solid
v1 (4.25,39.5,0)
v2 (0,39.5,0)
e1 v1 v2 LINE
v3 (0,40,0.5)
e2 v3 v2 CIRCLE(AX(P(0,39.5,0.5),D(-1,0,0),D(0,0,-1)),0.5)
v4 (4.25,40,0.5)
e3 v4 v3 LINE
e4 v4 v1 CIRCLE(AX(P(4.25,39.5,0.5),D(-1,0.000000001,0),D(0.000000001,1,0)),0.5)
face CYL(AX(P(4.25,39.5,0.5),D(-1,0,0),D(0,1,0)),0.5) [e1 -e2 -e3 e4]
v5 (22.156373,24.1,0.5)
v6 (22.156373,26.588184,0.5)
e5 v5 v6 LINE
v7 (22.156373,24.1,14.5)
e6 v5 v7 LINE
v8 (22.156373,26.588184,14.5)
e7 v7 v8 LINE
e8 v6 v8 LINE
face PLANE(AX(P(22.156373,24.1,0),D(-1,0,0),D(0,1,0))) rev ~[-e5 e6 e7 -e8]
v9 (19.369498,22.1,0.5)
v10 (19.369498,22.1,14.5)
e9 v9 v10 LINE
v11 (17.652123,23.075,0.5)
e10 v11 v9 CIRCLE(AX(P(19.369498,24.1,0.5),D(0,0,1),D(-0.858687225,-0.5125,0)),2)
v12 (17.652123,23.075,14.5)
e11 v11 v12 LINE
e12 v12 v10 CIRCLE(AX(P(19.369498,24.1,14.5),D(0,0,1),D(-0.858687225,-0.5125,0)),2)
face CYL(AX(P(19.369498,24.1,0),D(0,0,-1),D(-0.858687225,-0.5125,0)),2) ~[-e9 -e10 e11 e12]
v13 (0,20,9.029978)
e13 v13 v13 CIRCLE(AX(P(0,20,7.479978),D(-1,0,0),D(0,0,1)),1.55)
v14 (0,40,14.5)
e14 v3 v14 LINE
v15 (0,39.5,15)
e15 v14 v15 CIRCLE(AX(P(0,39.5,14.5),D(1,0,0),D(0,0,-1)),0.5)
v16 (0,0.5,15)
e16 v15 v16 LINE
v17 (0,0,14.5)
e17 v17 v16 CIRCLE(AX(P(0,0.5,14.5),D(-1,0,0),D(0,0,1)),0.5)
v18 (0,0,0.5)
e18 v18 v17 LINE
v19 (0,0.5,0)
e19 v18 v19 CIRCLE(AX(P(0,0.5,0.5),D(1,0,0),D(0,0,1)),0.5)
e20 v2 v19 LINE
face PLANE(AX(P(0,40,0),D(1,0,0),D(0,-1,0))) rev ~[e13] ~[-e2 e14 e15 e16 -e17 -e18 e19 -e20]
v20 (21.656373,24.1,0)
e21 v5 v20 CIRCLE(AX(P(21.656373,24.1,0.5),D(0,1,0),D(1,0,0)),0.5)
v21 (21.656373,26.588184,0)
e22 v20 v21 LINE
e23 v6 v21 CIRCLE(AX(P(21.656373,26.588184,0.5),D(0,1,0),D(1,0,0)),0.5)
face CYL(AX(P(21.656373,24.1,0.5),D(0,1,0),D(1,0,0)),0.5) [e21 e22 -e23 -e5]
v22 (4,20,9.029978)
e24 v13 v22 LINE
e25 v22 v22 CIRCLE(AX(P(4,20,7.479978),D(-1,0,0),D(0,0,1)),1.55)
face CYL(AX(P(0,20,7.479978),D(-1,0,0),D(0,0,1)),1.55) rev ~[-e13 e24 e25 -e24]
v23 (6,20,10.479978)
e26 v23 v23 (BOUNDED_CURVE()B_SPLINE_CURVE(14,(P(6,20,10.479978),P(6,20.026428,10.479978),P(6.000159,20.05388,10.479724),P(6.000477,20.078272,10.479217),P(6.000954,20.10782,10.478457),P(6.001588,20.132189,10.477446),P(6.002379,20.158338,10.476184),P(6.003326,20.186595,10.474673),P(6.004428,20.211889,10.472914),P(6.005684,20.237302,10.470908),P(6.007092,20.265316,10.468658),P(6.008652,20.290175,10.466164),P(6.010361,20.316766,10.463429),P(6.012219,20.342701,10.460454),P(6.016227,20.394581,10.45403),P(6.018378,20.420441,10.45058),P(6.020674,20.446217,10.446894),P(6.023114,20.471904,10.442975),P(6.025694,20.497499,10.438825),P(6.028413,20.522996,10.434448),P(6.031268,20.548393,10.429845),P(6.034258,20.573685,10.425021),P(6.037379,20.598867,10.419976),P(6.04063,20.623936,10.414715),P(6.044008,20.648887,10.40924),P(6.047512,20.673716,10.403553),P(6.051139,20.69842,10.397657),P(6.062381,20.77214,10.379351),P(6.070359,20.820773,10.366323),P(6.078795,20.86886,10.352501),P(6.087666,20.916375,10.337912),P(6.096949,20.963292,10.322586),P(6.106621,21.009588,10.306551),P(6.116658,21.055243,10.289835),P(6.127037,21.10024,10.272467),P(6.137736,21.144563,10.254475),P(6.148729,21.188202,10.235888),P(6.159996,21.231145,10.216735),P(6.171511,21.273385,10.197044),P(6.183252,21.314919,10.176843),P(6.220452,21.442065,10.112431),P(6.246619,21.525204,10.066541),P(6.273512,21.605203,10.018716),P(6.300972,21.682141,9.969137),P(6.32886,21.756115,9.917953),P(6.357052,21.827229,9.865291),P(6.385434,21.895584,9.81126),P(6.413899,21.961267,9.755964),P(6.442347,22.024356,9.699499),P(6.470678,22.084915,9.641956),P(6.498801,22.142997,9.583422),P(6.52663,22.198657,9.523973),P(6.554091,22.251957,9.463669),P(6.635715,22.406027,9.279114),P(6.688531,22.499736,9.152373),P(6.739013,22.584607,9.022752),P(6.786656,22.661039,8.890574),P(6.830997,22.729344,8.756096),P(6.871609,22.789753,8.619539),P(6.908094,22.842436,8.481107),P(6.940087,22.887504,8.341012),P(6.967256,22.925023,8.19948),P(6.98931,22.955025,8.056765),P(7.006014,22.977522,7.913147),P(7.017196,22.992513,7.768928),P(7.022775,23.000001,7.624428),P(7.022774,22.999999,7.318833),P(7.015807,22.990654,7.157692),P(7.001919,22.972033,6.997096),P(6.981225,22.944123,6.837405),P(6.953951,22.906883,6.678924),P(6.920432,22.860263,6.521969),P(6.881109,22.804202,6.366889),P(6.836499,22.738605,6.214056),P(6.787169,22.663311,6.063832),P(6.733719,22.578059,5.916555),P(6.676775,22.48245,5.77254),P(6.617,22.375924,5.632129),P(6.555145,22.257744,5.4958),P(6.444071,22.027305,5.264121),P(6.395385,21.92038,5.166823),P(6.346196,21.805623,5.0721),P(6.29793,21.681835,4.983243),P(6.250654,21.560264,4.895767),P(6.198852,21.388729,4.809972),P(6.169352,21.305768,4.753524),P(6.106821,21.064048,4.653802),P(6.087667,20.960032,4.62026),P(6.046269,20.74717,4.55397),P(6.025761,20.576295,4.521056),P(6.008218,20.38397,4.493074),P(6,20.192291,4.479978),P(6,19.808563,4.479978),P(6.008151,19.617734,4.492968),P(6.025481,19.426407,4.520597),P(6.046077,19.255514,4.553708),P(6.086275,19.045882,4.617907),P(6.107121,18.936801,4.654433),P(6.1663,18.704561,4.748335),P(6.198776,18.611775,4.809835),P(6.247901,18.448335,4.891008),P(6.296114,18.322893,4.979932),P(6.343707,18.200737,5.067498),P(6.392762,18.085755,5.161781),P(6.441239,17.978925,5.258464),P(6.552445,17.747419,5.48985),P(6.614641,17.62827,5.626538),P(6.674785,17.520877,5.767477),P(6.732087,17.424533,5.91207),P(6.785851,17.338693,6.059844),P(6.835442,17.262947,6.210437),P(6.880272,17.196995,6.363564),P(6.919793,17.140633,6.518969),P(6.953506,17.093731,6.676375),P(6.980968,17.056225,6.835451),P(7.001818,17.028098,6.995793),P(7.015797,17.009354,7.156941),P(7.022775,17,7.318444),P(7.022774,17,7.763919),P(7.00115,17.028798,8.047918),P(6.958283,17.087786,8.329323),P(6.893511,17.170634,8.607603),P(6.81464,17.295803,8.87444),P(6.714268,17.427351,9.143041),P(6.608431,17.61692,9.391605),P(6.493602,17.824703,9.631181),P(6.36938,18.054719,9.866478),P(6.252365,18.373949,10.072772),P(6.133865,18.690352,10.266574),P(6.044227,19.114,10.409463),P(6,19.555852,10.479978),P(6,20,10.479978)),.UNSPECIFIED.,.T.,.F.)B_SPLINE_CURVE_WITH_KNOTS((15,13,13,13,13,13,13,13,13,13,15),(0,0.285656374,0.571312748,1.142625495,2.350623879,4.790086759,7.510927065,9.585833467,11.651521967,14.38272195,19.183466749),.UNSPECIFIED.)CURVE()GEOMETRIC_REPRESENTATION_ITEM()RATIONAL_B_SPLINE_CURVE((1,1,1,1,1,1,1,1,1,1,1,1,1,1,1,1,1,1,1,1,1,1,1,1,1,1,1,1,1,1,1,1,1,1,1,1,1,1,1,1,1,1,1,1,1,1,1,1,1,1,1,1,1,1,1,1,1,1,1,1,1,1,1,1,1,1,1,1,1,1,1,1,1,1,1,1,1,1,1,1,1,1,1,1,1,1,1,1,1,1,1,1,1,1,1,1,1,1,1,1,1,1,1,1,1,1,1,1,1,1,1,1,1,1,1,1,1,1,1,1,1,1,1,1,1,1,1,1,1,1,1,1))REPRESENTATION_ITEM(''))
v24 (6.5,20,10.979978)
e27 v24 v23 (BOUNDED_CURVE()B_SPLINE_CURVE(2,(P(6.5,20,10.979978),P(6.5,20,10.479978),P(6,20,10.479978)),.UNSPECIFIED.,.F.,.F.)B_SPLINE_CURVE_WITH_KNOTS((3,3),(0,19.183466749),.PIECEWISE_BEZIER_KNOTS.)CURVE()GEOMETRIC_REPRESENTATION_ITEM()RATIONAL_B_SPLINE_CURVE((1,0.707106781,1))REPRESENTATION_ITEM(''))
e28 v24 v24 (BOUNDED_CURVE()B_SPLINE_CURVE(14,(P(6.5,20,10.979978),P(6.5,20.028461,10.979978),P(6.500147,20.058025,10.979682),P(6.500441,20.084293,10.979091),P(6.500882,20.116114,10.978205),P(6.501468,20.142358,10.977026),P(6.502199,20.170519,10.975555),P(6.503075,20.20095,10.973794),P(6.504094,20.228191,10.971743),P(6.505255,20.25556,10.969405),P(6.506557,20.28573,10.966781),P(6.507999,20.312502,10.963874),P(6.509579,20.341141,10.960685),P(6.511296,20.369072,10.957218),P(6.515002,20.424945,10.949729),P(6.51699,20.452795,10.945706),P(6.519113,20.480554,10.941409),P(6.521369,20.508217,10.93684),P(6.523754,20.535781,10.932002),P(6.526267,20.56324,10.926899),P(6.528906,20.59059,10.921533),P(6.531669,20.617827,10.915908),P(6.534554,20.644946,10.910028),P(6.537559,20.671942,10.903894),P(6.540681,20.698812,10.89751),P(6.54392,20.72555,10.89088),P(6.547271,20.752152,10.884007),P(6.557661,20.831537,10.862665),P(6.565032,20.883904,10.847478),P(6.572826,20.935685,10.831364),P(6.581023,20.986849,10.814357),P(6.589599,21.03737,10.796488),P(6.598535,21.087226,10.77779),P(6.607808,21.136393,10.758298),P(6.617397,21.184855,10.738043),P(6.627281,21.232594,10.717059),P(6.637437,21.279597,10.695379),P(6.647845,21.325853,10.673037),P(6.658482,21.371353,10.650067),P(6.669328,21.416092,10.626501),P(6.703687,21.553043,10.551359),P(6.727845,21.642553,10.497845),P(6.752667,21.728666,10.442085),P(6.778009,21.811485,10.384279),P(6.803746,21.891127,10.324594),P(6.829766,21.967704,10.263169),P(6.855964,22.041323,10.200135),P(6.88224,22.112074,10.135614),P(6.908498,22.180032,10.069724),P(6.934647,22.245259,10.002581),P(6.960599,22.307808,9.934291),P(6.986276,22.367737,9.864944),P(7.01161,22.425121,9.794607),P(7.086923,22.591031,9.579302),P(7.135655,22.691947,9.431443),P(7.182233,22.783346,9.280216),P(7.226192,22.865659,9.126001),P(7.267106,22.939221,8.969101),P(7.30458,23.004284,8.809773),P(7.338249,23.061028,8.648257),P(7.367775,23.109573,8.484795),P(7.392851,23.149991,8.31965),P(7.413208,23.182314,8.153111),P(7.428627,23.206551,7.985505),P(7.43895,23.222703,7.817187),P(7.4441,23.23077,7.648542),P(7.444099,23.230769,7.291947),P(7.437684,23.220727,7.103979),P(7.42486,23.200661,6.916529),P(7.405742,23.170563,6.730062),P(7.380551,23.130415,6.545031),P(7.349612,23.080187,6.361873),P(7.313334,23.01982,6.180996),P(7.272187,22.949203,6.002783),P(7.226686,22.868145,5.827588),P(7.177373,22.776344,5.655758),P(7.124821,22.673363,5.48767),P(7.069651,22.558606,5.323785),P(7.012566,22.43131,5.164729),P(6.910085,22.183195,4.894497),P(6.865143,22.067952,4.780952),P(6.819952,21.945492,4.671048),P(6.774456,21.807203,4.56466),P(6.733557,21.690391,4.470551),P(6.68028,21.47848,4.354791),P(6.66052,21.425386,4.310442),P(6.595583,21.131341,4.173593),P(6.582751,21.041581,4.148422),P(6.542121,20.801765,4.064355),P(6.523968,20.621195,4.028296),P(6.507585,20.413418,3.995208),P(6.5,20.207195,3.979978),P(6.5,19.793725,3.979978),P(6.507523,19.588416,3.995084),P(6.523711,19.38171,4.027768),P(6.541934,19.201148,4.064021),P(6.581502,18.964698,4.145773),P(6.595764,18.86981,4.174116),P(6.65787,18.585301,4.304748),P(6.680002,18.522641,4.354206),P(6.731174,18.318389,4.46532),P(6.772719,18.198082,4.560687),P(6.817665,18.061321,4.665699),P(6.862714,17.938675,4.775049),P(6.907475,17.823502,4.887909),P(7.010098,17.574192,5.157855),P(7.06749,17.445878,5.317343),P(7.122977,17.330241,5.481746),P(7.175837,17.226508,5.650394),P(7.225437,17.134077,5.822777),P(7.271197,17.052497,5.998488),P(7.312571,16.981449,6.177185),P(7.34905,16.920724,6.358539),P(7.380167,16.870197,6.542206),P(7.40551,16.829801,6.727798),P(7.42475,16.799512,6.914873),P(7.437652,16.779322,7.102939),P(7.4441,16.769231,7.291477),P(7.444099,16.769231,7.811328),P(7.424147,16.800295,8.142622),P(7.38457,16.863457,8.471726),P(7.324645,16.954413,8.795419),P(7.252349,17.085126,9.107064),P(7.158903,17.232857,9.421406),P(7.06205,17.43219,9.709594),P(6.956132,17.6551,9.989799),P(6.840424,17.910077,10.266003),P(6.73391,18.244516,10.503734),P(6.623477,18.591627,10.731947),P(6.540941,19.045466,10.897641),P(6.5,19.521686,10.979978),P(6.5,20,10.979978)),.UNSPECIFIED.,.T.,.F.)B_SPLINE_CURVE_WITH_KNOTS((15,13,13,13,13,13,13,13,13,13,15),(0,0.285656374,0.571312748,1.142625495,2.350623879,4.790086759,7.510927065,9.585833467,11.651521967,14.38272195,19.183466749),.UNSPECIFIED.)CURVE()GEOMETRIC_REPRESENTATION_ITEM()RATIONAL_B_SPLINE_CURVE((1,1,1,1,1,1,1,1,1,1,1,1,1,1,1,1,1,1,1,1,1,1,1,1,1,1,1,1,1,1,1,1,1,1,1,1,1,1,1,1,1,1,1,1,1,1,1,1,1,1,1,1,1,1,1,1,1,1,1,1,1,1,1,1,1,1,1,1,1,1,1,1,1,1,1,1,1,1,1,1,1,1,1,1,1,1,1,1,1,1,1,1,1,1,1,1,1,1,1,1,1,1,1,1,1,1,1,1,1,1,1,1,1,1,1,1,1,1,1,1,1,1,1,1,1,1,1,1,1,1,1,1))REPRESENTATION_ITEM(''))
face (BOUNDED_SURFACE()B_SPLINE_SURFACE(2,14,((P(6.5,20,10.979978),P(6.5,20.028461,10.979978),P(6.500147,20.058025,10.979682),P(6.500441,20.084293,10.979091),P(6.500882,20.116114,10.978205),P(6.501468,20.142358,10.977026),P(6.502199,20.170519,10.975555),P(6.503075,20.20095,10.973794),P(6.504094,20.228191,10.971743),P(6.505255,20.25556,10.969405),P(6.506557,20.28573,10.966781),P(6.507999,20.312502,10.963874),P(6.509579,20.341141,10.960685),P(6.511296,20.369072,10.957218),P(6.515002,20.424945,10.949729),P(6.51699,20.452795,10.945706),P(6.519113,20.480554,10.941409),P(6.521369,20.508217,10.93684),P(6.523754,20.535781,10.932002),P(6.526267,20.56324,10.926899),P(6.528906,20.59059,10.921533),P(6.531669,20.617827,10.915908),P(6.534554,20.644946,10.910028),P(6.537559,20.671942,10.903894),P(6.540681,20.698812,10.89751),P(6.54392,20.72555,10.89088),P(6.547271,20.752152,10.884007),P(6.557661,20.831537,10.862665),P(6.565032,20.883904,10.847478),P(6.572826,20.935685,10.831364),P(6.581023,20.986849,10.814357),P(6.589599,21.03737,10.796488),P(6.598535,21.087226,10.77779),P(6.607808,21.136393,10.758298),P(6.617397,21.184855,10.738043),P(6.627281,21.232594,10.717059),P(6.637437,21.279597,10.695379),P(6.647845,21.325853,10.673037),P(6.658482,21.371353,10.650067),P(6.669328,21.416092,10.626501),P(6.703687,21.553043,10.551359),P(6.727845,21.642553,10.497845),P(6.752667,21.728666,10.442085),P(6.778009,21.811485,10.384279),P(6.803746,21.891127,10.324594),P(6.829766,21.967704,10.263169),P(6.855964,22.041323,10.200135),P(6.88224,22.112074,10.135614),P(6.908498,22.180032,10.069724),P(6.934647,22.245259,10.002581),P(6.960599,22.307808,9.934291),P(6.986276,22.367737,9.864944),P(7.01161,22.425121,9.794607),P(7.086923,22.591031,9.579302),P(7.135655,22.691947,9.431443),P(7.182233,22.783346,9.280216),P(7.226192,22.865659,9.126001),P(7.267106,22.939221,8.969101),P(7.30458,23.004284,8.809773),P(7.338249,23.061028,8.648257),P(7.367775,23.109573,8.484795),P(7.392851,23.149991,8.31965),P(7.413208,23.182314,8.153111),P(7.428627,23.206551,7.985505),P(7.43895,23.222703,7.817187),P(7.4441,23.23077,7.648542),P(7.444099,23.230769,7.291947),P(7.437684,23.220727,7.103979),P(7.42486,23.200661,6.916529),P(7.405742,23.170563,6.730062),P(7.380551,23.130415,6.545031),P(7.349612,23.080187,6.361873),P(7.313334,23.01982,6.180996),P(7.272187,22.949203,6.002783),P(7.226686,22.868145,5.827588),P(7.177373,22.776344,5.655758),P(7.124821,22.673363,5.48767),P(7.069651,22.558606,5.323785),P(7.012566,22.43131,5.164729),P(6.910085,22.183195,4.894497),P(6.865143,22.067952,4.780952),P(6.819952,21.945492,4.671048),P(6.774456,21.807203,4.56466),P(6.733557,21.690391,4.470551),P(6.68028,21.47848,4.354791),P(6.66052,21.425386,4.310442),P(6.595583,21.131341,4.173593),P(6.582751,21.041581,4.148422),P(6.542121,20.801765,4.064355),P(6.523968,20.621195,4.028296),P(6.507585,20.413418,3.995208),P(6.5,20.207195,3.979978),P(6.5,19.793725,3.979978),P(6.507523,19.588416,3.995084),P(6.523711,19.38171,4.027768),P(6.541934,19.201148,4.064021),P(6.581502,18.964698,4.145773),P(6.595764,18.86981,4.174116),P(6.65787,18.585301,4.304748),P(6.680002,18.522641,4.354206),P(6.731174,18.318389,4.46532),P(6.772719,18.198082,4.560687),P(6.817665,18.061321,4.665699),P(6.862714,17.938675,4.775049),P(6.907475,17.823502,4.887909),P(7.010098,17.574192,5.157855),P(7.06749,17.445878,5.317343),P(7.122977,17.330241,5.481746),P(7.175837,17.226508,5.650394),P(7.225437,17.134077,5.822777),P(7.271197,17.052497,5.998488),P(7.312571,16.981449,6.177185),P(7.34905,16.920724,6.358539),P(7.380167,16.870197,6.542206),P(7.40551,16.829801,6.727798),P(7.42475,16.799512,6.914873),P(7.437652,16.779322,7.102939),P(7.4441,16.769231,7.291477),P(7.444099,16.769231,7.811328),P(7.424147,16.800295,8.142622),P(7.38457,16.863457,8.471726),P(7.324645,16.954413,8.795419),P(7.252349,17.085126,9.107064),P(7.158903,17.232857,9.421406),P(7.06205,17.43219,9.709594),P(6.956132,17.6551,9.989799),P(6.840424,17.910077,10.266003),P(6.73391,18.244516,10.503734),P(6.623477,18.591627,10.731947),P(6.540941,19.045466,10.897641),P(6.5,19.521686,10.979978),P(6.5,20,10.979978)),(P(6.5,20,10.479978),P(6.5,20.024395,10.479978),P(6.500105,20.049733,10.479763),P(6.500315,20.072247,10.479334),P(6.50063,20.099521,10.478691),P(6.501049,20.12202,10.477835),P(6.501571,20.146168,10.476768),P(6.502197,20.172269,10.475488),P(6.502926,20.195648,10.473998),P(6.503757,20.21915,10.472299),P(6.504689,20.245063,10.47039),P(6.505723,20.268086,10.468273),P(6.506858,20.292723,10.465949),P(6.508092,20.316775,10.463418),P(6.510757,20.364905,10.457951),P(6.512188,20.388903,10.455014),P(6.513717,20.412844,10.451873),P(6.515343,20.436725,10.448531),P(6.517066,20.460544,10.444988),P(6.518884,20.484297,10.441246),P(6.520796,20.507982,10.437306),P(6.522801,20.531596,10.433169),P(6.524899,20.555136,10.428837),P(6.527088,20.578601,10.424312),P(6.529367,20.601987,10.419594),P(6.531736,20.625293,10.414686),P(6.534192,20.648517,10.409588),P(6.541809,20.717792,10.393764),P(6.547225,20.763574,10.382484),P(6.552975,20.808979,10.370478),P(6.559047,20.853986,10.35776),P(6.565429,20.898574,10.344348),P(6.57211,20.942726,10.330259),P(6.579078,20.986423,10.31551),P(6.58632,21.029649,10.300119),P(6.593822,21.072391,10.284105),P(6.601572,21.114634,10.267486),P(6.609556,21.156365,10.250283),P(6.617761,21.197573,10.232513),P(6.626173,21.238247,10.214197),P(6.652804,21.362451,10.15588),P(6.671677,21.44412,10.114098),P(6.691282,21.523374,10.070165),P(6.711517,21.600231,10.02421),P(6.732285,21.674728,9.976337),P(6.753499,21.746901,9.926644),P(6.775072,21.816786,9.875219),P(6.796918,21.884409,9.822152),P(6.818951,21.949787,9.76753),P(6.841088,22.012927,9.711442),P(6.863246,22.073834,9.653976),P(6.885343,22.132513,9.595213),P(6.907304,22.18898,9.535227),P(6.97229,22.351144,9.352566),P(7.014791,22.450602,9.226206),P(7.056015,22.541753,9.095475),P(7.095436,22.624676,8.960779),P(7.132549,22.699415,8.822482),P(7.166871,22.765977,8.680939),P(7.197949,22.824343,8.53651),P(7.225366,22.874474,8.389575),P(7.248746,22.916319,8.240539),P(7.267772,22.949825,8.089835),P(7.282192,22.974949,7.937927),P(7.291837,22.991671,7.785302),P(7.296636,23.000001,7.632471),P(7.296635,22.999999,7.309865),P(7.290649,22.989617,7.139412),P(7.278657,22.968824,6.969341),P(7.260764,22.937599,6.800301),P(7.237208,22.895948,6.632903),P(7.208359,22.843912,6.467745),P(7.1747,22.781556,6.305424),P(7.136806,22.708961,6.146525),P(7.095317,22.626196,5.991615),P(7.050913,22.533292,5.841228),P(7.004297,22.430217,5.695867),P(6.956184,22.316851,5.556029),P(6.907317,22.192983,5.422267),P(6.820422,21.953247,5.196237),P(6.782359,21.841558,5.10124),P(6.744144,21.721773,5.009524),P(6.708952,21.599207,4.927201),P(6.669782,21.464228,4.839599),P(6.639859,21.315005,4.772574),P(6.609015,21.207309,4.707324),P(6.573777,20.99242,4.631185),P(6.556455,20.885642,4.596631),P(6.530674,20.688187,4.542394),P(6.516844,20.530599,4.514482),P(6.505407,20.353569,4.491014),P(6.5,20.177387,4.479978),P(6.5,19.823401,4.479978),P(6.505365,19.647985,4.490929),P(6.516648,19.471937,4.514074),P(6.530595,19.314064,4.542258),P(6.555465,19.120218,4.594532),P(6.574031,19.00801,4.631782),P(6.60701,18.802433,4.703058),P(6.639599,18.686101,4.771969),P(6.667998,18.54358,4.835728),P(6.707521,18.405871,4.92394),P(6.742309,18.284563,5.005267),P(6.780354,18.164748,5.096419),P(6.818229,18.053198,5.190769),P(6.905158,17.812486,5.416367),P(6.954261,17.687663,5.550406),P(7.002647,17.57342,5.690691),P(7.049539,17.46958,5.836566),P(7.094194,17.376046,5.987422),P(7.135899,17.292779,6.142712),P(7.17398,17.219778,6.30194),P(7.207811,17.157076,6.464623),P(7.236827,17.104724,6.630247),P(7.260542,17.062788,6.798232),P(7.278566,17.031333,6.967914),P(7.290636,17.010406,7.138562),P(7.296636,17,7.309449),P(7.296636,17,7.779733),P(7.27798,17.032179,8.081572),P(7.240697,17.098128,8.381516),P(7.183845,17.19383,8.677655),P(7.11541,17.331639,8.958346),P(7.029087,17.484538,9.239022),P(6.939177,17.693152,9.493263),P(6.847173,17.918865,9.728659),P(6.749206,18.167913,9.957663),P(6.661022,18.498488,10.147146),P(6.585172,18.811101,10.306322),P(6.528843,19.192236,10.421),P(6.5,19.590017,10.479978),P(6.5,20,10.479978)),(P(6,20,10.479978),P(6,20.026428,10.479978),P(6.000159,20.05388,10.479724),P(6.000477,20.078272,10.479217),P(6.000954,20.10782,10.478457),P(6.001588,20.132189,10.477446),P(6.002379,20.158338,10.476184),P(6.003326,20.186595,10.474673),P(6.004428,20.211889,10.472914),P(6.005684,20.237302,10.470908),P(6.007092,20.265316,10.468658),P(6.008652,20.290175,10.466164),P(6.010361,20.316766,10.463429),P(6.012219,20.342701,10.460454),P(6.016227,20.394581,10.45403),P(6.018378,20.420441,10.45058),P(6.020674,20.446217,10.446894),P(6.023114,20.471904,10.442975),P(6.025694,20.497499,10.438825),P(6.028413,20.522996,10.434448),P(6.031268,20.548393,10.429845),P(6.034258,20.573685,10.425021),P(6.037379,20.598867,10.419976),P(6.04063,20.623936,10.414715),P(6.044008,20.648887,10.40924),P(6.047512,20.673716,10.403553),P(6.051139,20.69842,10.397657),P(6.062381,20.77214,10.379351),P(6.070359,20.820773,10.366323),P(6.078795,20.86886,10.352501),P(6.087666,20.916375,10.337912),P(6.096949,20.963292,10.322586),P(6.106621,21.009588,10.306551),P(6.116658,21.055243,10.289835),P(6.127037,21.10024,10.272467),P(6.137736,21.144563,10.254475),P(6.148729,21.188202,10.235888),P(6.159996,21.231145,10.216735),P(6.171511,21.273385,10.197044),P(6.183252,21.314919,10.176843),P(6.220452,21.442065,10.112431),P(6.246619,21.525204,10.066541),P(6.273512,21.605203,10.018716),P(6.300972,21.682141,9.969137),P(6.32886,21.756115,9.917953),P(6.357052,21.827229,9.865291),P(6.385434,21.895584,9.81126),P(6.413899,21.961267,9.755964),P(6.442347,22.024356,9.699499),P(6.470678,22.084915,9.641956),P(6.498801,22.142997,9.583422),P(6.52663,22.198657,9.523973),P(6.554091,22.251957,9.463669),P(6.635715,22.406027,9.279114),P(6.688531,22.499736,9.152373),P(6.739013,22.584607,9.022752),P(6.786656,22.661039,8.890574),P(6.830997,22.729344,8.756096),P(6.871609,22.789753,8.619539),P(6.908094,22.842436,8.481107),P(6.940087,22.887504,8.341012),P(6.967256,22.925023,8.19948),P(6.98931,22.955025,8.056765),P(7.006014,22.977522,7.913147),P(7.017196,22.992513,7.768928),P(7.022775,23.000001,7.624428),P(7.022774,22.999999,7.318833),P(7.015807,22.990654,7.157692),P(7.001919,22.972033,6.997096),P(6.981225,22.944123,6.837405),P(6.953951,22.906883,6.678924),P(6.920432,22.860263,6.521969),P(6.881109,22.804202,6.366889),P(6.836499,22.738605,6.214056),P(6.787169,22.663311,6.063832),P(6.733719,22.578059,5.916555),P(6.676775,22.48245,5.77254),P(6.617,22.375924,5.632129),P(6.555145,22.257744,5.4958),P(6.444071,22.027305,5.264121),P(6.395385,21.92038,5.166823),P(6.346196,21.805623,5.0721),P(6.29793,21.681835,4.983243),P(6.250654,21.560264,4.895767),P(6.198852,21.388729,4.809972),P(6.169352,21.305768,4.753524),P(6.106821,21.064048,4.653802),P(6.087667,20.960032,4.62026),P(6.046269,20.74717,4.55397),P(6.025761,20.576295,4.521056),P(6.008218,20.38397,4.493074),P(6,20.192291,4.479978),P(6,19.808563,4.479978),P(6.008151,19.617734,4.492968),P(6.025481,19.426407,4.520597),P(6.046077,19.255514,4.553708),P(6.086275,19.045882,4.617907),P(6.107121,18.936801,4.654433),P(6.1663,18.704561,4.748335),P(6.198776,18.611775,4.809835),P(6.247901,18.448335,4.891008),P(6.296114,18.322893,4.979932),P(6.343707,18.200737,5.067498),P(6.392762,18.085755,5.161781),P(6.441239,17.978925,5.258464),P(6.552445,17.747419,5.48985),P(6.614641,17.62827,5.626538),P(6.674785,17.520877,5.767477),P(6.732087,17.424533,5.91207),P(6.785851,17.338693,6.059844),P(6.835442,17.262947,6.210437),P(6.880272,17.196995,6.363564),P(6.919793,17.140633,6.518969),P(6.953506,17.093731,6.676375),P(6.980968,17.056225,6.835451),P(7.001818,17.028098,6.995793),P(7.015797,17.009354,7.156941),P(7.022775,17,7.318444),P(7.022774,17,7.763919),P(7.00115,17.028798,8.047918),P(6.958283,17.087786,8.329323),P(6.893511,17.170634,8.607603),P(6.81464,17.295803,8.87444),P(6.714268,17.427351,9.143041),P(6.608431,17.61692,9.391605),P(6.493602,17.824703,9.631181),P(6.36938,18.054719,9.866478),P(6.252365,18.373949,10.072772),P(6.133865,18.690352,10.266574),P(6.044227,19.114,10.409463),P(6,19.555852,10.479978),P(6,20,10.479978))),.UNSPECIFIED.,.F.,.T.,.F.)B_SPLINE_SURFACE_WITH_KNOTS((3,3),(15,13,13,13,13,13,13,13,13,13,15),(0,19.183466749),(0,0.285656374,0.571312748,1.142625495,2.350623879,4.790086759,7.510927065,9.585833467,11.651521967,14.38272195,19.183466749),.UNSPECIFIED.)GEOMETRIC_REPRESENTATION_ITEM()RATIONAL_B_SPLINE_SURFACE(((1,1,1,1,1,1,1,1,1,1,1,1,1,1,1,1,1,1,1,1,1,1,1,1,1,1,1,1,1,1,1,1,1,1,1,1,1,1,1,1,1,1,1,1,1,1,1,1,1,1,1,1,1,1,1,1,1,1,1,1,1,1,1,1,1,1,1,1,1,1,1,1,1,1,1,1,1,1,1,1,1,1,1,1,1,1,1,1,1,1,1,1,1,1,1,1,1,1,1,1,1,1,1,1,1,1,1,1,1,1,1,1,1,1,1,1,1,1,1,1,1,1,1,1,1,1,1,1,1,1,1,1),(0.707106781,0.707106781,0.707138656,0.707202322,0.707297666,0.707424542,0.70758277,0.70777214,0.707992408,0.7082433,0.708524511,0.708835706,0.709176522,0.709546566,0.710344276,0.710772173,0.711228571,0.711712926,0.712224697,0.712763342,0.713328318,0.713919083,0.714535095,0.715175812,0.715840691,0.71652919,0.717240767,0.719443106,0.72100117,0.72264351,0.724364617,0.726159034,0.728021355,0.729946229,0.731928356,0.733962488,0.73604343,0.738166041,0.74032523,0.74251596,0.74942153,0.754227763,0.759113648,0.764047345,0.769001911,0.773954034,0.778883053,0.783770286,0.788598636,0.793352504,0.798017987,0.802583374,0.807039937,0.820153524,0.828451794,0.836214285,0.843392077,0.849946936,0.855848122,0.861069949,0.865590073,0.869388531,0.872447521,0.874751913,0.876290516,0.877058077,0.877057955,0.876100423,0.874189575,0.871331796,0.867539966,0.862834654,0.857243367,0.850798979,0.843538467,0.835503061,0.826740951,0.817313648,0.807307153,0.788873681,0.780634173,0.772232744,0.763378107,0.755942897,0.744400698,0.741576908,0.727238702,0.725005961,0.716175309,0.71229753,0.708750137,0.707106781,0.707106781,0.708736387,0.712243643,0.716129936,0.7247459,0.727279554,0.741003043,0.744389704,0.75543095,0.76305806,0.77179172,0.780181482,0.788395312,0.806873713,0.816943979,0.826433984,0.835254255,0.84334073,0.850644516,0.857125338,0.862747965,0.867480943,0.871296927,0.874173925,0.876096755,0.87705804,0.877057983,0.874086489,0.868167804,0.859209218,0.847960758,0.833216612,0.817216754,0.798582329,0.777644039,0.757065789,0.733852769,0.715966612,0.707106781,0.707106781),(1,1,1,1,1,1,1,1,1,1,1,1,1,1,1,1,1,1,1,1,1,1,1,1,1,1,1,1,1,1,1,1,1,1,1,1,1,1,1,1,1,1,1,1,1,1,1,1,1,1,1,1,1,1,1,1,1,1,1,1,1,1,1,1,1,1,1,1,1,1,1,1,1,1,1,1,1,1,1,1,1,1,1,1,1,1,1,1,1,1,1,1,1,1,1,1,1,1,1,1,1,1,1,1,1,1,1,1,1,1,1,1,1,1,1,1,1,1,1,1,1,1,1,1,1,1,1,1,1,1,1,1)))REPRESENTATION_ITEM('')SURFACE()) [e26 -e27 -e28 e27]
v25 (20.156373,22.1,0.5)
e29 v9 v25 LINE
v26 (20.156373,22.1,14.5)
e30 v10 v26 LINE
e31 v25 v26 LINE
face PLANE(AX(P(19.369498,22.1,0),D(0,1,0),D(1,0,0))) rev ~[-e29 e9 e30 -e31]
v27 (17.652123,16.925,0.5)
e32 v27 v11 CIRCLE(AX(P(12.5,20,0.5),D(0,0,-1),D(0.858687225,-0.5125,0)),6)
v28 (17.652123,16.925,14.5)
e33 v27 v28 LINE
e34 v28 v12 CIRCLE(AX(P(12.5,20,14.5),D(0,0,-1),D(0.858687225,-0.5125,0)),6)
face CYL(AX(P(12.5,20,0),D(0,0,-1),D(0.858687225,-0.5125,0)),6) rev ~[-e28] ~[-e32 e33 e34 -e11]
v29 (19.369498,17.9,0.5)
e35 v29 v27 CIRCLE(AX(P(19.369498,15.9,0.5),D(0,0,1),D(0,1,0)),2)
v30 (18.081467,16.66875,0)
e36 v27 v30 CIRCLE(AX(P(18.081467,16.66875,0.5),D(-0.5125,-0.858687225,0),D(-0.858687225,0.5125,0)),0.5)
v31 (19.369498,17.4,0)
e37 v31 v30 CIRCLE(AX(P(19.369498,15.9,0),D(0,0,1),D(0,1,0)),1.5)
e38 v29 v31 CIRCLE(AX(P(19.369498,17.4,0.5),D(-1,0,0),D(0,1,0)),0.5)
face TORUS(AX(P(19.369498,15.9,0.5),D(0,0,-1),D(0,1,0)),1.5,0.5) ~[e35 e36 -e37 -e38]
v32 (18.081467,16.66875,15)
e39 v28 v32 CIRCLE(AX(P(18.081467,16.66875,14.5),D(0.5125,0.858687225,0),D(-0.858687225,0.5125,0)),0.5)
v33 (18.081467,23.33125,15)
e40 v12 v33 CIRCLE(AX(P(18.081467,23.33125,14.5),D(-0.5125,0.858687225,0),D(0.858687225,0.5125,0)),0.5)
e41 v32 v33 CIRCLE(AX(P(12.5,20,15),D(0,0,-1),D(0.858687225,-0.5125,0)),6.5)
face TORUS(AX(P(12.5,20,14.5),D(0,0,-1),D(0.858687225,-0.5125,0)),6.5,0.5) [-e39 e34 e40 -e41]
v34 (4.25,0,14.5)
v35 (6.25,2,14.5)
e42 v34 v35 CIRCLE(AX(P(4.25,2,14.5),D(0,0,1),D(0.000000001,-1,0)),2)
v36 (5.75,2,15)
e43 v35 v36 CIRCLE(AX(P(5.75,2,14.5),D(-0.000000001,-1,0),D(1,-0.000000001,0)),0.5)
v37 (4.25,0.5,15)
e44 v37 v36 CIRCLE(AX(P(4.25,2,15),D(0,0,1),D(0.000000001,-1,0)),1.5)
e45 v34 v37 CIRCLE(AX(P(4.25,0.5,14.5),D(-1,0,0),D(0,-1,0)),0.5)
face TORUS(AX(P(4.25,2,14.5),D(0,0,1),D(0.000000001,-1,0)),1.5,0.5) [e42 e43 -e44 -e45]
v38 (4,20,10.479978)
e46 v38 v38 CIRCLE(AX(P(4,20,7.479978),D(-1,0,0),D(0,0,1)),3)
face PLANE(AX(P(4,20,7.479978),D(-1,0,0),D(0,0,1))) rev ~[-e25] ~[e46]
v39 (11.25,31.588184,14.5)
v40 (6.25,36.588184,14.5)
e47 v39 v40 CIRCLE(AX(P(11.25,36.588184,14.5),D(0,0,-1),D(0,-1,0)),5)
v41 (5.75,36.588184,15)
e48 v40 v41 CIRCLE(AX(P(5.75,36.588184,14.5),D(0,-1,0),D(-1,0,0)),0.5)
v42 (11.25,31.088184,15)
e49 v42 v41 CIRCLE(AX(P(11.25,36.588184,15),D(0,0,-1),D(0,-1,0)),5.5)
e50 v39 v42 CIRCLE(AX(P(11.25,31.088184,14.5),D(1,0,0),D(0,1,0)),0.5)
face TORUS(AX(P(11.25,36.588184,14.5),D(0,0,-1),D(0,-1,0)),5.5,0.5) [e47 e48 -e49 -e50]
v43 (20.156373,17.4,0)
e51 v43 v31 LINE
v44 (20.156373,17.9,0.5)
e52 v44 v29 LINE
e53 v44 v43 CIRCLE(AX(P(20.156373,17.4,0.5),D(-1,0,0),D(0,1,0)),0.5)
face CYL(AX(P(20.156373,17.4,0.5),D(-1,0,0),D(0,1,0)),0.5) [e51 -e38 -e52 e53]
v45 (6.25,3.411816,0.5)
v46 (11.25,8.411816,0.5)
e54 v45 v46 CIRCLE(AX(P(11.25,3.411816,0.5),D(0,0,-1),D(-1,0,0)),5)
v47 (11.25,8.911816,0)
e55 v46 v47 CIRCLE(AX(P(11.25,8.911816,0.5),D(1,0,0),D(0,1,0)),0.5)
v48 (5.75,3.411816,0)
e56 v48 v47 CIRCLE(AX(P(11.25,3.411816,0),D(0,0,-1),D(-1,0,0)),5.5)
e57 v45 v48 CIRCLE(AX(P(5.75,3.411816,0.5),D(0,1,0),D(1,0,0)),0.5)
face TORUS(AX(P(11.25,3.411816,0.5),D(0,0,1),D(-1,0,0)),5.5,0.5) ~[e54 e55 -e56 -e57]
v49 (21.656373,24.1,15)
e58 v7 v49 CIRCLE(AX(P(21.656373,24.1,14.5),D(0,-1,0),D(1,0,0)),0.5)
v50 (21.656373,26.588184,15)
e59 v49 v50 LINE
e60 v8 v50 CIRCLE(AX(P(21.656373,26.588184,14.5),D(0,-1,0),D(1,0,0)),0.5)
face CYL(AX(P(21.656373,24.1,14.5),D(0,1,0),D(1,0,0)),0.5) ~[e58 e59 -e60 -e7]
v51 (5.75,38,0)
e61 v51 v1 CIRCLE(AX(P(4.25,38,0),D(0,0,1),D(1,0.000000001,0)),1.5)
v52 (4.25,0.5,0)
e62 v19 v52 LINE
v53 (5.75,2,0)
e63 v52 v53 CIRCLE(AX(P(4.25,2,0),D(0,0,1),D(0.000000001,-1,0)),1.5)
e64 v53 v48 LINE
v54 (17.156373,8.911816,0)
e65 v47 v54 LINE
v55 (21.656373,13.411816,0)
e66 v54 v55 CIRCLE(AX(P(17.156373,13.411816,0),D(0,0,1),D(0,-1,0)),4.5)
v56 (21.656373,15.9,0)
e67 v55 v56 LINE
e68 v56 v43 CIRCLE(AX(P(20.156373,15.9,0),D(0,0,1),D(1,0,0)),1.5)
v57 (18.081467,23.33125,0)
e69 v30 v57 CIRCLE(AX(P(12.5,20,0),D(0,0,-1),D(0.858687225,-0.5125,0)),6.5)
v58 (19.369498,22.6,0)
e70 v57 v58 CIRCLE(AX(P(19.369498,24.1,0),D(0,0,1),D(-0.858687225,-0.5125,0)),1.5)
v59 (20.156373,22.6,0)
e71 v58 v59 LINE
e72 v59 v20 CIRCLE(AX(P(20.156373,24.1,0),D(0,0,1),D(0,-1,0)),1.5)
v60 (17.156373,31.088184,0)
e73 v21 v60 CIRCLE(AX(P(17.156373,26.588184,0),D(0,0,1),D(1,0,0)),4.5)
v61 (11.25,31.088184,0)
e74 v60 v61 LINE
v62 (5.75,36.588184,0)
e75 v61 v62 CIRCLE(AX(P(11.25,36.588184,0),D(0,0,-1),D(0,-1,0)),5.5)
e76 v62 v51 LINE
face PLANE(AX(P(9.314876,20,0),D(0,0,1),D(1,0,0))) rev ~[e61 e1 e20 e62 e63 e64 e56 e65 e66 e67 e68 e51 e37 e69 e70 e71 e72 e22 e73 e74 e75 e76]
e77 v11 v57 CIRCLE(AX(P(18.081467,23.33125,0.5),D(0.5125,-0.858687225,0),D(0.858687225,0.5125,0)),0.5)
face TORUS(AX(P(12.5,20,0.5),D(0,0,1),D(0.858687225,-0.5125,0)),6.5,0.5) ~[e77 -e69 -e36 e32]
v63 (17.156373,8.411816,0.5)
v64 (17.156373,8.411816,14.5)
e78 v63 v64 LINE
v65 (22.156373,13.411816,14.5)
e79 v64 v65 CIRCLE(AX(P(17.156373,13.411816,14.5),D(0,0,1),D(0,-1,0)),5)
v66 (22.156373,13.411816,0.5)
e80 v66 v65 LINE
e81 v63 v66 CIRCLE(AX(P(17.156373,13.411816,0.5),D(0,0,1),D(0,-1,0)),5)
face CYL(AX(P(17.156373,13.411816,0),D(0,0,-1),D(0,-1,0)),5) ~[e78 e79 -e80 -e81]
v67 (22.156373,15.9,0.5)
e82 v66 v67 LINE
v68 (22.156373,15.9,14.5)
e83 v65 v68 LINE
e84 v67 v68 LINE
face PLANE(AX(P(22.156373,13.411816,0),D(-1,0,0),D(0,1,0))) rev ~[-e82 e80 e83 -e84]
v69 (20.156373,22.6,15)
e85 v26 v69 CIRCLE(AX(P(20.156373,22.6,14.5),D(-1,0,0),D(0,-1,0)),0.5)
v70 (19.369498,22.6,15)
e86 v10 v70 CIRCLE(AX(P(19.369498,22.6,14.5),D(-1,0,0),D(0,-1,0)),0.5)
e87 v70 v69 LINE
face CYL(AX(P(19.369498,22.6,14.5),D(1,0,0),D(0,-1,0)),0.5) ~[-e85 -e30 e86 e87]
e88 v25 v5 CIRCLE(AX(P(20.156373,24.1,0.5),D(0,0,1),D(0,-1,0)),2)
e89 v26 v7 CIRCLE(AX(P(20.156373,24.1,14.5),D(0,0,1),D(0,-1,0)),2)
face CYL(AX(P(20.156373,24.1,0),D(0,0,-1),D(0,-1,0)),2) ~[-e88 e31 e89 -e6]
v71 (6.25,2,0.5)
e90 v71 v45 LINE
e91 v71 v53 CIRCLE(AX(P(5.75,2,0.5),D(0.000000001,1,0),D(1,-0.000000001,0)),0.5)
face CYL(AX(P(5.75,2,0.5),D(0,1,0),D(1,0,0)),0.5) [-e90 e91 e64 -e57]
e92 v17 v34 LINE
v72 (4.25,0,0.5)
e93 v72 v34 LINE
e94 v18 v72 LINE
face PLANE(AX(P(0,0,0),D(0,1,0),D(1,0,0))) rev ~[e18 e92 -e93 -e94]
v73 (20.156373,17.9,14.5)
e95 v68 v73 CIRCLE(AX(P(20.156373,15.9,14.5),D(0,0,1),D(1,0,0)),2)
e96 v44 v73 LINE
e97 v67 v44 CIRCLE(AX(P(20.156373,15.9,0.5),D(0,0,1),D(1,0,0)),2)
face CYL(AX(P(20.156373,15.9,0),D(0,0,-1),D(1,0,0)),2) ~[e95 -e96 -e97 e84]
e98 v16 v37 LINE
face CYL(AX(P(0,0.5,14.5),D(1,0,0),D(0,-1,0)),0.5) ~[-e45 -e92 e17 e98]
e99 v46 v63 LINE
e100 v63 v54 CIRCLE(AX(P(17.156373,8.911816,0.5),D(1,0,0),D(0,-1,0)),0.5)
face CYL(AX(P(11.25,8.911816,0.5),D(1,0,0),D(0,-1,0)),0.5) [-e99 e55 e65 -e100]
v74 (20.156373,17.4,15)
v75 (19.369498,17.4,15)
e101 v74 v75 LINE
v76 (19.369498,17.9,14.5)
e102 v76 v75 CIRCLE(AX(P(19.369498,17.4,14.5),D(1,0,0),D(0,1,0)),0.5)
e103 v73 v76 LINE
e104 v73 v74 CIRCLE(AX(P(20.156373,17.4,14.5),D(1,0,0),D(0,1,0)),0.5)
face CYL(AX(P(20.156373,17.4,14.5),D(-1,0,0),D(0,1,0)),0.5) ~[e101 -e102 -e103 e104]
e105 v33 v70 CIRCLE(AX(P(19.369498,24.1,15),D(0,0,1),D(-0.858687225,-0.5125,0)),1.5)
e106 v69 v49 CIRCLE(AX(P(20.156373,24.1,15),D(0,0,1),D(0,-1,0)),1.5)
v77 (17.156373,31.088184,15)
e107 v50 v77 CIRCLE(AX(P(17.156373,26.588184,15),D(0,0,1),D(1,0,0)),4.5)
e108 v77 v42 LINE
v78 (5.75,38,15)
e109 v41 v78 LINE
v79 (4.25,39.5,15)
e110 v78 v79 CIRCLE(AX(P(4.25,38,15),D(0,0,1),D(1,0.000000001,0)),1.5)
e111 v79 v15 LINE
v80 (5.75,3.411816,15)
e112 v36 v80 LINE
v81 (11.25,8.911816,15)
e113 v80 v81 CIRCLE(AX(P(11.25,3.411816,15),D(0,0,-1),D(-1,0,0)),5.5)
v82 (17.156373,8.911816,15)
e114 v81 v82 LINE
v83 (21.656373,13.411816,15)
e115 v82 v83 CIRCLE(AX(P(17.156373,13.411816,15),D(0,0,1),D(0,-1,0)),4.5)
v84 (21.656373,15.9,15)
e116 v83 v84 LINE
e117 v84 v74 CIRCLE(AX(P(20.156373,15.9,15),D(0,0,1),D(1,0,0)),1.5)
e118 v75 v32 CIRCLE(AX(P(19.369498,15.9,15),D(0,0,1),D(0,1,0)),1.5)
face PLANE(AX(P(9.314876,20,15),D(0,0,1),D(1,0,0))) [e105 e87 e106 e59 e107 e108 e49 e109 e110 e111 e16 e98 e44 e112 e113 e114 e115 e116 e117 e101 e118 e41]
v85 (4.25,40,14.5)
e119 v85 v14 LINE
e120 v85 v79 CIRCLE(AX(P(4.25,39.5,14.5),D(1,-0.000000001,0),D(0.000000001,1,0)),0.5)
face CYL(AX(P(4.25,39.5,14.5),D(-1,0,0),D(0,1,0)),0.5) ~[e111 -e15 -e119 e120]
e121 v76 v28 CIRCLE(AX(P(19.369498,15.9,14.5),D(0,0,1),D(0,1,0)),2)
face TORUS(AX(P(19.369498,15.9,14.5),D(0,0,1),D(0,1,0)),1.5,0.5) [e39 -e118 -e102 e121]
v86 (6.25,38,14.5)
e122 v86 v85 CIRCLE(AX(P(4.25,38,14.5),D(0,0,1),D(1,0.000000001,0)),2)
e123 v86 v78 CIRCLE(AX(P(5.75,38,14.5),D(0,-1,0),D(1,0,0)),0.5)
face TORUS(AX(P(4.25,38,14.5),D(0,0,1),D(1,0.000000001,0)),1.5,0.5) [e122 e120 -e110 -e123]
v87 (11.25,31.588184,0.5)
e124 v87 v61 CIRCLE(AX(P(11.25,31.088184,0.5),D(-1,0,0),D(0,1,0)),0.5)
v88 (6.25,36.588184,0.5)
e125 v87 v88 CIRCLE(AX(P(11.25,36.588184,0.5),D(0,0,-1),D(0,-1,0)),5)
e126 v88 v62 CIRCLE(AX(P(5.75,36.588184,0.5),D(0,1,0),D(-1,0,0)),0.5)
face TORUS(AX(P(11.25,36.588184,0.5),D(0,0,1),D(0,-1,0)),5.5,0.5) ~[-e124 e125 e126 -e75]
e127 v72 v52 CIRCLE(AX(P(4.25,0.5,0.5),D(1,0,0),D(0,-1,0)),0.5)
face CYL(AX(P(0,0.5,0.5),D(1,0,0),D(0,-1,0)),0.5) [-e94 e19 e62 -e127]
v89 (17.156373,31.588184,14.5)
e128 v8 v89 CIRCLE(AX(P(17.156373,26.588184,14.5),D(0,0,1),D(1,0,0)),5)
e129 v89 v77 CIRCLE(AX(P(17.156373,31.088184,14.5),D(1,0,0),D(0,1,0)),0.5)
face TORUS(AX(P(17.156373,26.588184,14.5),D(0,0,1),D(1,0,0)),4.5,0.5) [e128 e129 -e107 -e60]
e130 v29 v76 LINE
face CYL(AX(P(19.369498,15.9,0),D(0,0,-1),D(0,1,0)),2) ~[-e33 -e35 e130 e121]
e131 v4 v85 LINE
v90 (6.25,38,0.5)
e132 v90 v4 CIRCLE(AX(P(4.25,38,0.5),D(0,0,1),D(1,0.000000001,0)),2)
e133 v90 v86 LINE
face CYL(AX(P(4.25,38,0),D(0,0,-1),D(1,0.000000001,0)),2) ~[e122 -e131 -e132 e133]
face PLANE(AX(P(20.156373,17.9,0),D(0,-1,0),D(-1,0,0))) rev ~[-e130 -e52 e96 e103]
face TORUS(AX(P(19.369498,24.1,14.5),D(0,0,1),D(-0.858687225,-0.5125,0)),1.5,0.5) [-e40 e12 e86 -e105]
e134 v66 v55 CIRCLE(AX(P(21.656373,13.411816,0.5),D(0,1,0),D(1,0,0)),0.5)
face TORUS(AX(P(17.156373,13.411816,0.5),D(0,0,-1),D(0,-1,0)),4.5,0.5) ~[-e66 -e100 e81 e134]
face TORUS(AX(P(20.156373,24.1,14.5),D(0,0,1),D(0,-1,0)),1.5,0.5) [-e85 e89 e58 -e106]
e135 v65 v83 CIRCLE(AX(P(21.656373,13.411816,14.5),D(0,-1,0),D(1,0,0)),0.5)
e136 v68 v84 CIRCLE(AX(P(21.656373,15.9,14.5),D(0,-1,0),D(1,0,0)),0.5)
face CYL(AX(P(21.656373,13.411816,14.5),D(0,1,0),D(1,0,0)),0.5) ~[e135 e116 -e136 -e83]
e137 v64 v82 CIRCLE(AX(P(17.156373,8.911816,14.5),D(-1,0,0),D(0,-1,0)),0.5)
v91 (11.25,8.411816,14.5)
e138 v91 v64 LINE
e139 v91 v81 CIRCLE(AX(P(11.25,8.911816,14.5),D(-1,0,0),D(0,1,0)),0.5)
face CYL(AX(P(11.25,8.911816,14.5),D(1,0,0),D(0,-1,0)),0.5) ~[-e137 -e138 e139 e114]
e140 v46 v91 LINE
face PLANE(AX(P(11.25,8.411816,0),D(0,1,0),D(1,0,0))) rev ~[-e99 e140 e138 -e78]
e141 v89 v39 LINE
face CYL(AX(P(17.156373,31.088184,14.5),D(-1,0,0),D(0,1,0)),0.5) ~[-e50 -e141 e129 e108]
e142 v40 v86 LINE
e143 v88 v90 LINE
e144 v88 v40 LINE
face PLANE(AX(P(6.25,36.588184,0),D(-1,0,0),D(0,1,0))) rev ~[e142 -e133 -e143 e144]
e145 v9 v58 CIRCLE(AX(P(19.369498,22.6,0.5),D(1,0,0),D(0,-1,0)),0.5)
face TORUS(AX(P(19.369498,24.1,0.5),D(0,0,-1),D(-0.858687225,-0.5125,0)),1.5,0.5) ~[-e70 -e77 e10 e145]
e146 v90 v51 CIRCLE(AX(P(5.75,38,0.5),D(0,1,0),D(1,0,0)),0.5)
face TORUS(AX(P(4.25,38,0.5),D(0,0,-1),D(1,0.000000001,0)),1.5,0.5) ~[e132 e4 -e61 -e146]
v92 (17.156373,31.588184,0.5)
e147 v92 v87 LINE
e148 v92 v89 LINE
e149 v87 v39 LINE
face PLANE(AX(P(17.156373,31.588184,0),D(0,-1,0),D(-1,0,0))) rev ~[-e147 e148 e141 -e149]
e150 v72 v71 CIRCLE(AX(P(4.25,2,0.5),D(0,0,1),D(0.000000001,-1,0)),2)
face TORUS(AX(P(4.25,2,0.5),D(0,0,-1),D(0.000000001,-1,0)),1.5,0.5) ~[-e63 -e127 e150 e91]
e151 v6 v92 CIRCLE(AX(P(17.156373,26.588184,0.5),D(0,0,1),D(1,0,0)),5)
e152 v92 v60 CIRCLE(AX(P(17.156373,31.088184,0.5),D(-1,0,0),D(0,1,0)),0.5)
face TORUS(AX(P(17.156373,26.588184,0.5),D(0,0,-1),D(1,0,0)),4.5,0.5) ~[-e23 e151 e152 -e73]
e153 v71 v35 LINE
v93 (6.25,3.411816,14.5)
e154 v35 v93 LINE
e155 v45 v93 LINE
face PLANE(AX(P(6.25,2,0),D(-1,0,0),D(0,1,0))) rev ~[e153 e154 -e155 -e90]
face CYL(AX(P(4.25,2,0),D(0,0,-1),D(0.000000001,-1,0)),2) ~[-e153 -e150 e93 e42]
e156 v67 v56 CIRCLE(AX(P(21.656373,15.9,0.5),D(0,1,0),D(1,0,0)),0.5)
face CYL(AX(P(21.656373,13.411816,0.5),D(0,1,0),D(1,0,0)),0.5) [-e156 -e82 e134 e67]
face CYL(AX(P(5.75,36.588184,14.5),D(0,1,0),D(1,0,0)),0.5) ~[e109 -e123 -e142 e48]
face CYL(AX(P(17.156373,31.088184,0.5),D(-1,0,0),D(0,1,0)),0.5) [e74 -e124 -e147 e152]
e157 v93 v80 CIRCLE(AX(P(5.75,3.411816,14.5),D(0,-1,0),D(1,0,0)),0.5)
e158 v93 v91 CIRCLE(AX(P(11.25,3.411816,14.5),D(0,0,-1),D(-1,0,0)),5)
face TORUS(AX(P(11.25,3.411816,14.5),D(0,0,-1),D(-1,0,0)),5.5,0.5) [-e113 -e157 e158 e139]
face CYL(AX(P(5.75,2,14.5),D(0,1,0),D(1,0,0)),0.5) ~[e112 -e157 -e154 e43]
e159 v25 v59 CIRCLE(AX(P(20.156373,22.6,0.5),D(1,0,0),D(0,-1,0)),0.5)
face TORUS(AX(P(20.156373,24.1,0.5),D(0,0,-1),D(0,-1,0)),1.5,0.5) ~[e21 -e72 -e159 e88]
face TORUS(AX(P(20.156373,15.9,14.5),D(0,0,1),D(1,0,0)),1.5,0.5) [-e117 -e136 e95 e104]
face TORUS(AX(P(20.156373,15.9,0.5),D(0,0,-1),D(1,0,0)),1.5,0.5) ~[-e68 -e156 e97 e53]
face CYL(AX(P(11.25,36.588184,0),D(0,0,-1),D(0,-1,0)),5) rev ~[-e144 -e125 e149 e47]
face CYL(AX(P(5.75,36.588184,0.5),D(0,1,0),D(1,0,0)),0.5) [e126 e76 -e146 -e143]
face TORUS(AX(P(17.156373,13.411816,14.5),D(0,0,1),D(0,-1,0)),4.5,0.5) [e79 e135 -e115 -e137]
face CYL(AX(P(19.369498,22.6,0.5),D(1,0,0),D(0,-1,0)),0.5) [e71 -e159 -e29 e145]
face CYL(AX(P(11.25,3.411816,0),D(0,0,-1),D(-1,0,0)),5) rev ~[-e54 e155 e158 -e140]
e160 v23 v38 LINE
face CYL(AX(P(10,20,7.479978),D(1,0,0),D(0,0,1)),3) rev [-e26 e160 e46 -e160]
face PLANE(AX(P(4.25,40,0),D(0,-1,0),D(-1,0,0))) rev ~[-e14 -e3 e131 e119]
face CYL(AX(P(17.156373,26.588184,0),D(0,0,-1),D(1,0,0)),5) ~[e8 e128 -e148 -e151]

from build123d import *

# Parameters (mm, degrees)
BOSS_EXTRU_1_DEPTH           = 15
CONG_1_R                     = 0.5
ESQUISSE2_R                  = 1.55
ENL_V_MAT_EXTRU_1_DEPTH      = 15
ENL_V_MAT_EXTRU_2_DEPTH      = 3
ENL_V_MAT_EXTRU_2_DEPTH_BACK = 3
ESQUISSE3_R                  = 3
CONG_2_R                     = 0.5


with BuildPart() as part:
    # Esquisse1 → Boss.-Extru.1 (new body)
    with BuildSketch(Plane.XY):
        with BuildLine():
            Line((0, 0), (4.25, 0))
            ThreePointArc((4.25, 0), (5.664213562, 0.585786438), (6.25, 2))
            Line((6.25, 2), (6.25, 3.411816069))
            ThreePointArc((6.25, 3.411816069), (7.714466094, 6.947349975), (11.25, 8.411816069))
            Line((11.25, 8.411816069), (17.156372721, 8.411816069))
            ThreePointArc((17.156372721, 8.411816069), (20.691906627, 9.876282163), (22.156372721, 13.411816069))
            Line((22.156372721, 13.411816069), (22.156372721, 15.9))
            ThreePointArc((22.156372721, 15.9), (21.570586284, 17.314213562), (20.156372721, 17.9))
            Line((20.156372721, 17.9), (19.369497798, 17.9))
            ThreePointArc((19.369497798, 17.9), (18.382076915, 17.639252713), (17.652123349, 16.925))
            ThreePointArc((17.652123349, 16.925), (6.5, 20), (17.652123349, 23.075))
            ThreePointArc((17.652123349, 23.075), (18.382076915, 22.360747287), (19.369497798, 22.1))
            Line((19.369497798, 22.1), (20.156372721, 22.1))
            ThreePointArc((20.156372721, 22.1), (21.570586284, 22.685786438), (22.156372721, 24.1))
            Line((22.156372721, 24.1), (22.156372721, 26.588183931))
            ThreePointArc((22.156372721, 26.588183931), (20.691906627, 30.123717837), (17.156372721, 31.588183931))
            Line((17.156372721, 31.588183931), (11.25, 31.588183931))
            ThreePointArc((11.25, 31.588183931), (7.714466094, 33.052650025), (6.25, 36.588183931))
            Line((6.25, 36.588183931), (6.25, 38))
            ThreePointArc((6.25, 38), (5.664213562, 39.414213562), (4.25, 40))
            Line((4.25, 40), (0, 40))
            Line((0, 40), (0, 0))
        make_face()
    extrude(amount=BOSS_EXTRU_1_DEPTH)

    # Congé1
    cong_1_edges = [part.edges().sort_by_distance(p)[0] for p in [
        (5.664213562, 0.585786438, 15),
        (6.25, 2.705908034, 15),
        (7.714466094, 6.947349975, 15),
        (2.125, 40, 0),
        (5.664213562, 39.414213562, 0),
        (6.25, 37.294091966, 0),
        (7.714466094, 33.052650025, 0),
        (14.203186361, 31.588183931, 0),
        (20.691906627, 30.123717837, 0),
        (22.156372721, 25.344091966, 0),
        (21.570586284, 22.685786438, 0),
        (19.76293526, 22.1, 0),
        (18.382076915, 22.360747287, 0),
        (14.203186361, 8.411816069, 15),
        (6.5, 20, 0),
        (18.382076915, 17.639252713, 0),
        (19.76293526, 17.9, 0),
        (21.570586284, 17.314213562, 0),
        (22.156372721, 14.655908034, 0),
        (20.691906627, 9.876282163, 0),
        (14.203186361, 8.411816069, 0),
        (7.714466094, 6.947349975, 0),
        (6.25, 2.705908034, 0),
        (5.664213562, 0.585786438, 0),
        (20.691906627, 9.876282163, 15),
        (2.125, 0, 0),
        (22.156372721, 14.655908034, 15),
        (21.570586284, 17.314213562, 15),
        (19.76293526, 17.9, 15),
        (18.382076915, 17.639252713, 15),
        (6.5, 20, 15),
        (18.382076915, 22.360747287, 15),
        (19.76293526, 22.1, 15),
        (21.570586284, 22.685786438, 15),
        (22.156372721, 25.344091966, 15),
        (20.691906627, 30.123717837, 15),
        (14.203186361, 31.588183931, 15),
        (7.714466094, 33.052650025, 15),
        (6.25, 37.294091966, 15),
        (5.664213562, 39.414213562, 15),
        (2.125, 40, 15),
        (2.125, 0, 15),
    ]]
    fillet(cong_1_edges, radius=CONG_1_R)

    # Esquisse2 → Enlèv. mat.-Extru.1 (cut)
    with BuildSketch(Plane.ZY):
        with Locations((7.479977759, 20)):
            Circle(ESQUISSE2_R)
    extrude(amount=-ENL_V_MAT_EXTRU_1_DEPTH, mode=Mode.SUBTRACT)

    # Esquisse3 → Enlèv. mat.-Extru.2 (cut, two sides: drawn at the far end of the back side and taken through both)
    with BuildSketch(Plane.ZY.offset(-7).offset(-ENL_V_MAT_EXTRU_2_DEPTH_BACK)):
        with Locations((7.479977759, 20)):
            Circle(ESQUISSE3_R)
    extrude(amount=ENL_V_MAT_EXTRU_2_DEPTH + ENL_V_MAT_EXTRU_2_DEPTH_BACK, mode=Mode.SUBTRACT)

    # Congé2
    cong_2_edges = [part.edges().sort_by_distance(p)[0] for p in [
        (6.5, 20, 4.479977759),
    ]]
    fillet(cong_2_edges, radius=CONG_2_R)


solid = part.part
